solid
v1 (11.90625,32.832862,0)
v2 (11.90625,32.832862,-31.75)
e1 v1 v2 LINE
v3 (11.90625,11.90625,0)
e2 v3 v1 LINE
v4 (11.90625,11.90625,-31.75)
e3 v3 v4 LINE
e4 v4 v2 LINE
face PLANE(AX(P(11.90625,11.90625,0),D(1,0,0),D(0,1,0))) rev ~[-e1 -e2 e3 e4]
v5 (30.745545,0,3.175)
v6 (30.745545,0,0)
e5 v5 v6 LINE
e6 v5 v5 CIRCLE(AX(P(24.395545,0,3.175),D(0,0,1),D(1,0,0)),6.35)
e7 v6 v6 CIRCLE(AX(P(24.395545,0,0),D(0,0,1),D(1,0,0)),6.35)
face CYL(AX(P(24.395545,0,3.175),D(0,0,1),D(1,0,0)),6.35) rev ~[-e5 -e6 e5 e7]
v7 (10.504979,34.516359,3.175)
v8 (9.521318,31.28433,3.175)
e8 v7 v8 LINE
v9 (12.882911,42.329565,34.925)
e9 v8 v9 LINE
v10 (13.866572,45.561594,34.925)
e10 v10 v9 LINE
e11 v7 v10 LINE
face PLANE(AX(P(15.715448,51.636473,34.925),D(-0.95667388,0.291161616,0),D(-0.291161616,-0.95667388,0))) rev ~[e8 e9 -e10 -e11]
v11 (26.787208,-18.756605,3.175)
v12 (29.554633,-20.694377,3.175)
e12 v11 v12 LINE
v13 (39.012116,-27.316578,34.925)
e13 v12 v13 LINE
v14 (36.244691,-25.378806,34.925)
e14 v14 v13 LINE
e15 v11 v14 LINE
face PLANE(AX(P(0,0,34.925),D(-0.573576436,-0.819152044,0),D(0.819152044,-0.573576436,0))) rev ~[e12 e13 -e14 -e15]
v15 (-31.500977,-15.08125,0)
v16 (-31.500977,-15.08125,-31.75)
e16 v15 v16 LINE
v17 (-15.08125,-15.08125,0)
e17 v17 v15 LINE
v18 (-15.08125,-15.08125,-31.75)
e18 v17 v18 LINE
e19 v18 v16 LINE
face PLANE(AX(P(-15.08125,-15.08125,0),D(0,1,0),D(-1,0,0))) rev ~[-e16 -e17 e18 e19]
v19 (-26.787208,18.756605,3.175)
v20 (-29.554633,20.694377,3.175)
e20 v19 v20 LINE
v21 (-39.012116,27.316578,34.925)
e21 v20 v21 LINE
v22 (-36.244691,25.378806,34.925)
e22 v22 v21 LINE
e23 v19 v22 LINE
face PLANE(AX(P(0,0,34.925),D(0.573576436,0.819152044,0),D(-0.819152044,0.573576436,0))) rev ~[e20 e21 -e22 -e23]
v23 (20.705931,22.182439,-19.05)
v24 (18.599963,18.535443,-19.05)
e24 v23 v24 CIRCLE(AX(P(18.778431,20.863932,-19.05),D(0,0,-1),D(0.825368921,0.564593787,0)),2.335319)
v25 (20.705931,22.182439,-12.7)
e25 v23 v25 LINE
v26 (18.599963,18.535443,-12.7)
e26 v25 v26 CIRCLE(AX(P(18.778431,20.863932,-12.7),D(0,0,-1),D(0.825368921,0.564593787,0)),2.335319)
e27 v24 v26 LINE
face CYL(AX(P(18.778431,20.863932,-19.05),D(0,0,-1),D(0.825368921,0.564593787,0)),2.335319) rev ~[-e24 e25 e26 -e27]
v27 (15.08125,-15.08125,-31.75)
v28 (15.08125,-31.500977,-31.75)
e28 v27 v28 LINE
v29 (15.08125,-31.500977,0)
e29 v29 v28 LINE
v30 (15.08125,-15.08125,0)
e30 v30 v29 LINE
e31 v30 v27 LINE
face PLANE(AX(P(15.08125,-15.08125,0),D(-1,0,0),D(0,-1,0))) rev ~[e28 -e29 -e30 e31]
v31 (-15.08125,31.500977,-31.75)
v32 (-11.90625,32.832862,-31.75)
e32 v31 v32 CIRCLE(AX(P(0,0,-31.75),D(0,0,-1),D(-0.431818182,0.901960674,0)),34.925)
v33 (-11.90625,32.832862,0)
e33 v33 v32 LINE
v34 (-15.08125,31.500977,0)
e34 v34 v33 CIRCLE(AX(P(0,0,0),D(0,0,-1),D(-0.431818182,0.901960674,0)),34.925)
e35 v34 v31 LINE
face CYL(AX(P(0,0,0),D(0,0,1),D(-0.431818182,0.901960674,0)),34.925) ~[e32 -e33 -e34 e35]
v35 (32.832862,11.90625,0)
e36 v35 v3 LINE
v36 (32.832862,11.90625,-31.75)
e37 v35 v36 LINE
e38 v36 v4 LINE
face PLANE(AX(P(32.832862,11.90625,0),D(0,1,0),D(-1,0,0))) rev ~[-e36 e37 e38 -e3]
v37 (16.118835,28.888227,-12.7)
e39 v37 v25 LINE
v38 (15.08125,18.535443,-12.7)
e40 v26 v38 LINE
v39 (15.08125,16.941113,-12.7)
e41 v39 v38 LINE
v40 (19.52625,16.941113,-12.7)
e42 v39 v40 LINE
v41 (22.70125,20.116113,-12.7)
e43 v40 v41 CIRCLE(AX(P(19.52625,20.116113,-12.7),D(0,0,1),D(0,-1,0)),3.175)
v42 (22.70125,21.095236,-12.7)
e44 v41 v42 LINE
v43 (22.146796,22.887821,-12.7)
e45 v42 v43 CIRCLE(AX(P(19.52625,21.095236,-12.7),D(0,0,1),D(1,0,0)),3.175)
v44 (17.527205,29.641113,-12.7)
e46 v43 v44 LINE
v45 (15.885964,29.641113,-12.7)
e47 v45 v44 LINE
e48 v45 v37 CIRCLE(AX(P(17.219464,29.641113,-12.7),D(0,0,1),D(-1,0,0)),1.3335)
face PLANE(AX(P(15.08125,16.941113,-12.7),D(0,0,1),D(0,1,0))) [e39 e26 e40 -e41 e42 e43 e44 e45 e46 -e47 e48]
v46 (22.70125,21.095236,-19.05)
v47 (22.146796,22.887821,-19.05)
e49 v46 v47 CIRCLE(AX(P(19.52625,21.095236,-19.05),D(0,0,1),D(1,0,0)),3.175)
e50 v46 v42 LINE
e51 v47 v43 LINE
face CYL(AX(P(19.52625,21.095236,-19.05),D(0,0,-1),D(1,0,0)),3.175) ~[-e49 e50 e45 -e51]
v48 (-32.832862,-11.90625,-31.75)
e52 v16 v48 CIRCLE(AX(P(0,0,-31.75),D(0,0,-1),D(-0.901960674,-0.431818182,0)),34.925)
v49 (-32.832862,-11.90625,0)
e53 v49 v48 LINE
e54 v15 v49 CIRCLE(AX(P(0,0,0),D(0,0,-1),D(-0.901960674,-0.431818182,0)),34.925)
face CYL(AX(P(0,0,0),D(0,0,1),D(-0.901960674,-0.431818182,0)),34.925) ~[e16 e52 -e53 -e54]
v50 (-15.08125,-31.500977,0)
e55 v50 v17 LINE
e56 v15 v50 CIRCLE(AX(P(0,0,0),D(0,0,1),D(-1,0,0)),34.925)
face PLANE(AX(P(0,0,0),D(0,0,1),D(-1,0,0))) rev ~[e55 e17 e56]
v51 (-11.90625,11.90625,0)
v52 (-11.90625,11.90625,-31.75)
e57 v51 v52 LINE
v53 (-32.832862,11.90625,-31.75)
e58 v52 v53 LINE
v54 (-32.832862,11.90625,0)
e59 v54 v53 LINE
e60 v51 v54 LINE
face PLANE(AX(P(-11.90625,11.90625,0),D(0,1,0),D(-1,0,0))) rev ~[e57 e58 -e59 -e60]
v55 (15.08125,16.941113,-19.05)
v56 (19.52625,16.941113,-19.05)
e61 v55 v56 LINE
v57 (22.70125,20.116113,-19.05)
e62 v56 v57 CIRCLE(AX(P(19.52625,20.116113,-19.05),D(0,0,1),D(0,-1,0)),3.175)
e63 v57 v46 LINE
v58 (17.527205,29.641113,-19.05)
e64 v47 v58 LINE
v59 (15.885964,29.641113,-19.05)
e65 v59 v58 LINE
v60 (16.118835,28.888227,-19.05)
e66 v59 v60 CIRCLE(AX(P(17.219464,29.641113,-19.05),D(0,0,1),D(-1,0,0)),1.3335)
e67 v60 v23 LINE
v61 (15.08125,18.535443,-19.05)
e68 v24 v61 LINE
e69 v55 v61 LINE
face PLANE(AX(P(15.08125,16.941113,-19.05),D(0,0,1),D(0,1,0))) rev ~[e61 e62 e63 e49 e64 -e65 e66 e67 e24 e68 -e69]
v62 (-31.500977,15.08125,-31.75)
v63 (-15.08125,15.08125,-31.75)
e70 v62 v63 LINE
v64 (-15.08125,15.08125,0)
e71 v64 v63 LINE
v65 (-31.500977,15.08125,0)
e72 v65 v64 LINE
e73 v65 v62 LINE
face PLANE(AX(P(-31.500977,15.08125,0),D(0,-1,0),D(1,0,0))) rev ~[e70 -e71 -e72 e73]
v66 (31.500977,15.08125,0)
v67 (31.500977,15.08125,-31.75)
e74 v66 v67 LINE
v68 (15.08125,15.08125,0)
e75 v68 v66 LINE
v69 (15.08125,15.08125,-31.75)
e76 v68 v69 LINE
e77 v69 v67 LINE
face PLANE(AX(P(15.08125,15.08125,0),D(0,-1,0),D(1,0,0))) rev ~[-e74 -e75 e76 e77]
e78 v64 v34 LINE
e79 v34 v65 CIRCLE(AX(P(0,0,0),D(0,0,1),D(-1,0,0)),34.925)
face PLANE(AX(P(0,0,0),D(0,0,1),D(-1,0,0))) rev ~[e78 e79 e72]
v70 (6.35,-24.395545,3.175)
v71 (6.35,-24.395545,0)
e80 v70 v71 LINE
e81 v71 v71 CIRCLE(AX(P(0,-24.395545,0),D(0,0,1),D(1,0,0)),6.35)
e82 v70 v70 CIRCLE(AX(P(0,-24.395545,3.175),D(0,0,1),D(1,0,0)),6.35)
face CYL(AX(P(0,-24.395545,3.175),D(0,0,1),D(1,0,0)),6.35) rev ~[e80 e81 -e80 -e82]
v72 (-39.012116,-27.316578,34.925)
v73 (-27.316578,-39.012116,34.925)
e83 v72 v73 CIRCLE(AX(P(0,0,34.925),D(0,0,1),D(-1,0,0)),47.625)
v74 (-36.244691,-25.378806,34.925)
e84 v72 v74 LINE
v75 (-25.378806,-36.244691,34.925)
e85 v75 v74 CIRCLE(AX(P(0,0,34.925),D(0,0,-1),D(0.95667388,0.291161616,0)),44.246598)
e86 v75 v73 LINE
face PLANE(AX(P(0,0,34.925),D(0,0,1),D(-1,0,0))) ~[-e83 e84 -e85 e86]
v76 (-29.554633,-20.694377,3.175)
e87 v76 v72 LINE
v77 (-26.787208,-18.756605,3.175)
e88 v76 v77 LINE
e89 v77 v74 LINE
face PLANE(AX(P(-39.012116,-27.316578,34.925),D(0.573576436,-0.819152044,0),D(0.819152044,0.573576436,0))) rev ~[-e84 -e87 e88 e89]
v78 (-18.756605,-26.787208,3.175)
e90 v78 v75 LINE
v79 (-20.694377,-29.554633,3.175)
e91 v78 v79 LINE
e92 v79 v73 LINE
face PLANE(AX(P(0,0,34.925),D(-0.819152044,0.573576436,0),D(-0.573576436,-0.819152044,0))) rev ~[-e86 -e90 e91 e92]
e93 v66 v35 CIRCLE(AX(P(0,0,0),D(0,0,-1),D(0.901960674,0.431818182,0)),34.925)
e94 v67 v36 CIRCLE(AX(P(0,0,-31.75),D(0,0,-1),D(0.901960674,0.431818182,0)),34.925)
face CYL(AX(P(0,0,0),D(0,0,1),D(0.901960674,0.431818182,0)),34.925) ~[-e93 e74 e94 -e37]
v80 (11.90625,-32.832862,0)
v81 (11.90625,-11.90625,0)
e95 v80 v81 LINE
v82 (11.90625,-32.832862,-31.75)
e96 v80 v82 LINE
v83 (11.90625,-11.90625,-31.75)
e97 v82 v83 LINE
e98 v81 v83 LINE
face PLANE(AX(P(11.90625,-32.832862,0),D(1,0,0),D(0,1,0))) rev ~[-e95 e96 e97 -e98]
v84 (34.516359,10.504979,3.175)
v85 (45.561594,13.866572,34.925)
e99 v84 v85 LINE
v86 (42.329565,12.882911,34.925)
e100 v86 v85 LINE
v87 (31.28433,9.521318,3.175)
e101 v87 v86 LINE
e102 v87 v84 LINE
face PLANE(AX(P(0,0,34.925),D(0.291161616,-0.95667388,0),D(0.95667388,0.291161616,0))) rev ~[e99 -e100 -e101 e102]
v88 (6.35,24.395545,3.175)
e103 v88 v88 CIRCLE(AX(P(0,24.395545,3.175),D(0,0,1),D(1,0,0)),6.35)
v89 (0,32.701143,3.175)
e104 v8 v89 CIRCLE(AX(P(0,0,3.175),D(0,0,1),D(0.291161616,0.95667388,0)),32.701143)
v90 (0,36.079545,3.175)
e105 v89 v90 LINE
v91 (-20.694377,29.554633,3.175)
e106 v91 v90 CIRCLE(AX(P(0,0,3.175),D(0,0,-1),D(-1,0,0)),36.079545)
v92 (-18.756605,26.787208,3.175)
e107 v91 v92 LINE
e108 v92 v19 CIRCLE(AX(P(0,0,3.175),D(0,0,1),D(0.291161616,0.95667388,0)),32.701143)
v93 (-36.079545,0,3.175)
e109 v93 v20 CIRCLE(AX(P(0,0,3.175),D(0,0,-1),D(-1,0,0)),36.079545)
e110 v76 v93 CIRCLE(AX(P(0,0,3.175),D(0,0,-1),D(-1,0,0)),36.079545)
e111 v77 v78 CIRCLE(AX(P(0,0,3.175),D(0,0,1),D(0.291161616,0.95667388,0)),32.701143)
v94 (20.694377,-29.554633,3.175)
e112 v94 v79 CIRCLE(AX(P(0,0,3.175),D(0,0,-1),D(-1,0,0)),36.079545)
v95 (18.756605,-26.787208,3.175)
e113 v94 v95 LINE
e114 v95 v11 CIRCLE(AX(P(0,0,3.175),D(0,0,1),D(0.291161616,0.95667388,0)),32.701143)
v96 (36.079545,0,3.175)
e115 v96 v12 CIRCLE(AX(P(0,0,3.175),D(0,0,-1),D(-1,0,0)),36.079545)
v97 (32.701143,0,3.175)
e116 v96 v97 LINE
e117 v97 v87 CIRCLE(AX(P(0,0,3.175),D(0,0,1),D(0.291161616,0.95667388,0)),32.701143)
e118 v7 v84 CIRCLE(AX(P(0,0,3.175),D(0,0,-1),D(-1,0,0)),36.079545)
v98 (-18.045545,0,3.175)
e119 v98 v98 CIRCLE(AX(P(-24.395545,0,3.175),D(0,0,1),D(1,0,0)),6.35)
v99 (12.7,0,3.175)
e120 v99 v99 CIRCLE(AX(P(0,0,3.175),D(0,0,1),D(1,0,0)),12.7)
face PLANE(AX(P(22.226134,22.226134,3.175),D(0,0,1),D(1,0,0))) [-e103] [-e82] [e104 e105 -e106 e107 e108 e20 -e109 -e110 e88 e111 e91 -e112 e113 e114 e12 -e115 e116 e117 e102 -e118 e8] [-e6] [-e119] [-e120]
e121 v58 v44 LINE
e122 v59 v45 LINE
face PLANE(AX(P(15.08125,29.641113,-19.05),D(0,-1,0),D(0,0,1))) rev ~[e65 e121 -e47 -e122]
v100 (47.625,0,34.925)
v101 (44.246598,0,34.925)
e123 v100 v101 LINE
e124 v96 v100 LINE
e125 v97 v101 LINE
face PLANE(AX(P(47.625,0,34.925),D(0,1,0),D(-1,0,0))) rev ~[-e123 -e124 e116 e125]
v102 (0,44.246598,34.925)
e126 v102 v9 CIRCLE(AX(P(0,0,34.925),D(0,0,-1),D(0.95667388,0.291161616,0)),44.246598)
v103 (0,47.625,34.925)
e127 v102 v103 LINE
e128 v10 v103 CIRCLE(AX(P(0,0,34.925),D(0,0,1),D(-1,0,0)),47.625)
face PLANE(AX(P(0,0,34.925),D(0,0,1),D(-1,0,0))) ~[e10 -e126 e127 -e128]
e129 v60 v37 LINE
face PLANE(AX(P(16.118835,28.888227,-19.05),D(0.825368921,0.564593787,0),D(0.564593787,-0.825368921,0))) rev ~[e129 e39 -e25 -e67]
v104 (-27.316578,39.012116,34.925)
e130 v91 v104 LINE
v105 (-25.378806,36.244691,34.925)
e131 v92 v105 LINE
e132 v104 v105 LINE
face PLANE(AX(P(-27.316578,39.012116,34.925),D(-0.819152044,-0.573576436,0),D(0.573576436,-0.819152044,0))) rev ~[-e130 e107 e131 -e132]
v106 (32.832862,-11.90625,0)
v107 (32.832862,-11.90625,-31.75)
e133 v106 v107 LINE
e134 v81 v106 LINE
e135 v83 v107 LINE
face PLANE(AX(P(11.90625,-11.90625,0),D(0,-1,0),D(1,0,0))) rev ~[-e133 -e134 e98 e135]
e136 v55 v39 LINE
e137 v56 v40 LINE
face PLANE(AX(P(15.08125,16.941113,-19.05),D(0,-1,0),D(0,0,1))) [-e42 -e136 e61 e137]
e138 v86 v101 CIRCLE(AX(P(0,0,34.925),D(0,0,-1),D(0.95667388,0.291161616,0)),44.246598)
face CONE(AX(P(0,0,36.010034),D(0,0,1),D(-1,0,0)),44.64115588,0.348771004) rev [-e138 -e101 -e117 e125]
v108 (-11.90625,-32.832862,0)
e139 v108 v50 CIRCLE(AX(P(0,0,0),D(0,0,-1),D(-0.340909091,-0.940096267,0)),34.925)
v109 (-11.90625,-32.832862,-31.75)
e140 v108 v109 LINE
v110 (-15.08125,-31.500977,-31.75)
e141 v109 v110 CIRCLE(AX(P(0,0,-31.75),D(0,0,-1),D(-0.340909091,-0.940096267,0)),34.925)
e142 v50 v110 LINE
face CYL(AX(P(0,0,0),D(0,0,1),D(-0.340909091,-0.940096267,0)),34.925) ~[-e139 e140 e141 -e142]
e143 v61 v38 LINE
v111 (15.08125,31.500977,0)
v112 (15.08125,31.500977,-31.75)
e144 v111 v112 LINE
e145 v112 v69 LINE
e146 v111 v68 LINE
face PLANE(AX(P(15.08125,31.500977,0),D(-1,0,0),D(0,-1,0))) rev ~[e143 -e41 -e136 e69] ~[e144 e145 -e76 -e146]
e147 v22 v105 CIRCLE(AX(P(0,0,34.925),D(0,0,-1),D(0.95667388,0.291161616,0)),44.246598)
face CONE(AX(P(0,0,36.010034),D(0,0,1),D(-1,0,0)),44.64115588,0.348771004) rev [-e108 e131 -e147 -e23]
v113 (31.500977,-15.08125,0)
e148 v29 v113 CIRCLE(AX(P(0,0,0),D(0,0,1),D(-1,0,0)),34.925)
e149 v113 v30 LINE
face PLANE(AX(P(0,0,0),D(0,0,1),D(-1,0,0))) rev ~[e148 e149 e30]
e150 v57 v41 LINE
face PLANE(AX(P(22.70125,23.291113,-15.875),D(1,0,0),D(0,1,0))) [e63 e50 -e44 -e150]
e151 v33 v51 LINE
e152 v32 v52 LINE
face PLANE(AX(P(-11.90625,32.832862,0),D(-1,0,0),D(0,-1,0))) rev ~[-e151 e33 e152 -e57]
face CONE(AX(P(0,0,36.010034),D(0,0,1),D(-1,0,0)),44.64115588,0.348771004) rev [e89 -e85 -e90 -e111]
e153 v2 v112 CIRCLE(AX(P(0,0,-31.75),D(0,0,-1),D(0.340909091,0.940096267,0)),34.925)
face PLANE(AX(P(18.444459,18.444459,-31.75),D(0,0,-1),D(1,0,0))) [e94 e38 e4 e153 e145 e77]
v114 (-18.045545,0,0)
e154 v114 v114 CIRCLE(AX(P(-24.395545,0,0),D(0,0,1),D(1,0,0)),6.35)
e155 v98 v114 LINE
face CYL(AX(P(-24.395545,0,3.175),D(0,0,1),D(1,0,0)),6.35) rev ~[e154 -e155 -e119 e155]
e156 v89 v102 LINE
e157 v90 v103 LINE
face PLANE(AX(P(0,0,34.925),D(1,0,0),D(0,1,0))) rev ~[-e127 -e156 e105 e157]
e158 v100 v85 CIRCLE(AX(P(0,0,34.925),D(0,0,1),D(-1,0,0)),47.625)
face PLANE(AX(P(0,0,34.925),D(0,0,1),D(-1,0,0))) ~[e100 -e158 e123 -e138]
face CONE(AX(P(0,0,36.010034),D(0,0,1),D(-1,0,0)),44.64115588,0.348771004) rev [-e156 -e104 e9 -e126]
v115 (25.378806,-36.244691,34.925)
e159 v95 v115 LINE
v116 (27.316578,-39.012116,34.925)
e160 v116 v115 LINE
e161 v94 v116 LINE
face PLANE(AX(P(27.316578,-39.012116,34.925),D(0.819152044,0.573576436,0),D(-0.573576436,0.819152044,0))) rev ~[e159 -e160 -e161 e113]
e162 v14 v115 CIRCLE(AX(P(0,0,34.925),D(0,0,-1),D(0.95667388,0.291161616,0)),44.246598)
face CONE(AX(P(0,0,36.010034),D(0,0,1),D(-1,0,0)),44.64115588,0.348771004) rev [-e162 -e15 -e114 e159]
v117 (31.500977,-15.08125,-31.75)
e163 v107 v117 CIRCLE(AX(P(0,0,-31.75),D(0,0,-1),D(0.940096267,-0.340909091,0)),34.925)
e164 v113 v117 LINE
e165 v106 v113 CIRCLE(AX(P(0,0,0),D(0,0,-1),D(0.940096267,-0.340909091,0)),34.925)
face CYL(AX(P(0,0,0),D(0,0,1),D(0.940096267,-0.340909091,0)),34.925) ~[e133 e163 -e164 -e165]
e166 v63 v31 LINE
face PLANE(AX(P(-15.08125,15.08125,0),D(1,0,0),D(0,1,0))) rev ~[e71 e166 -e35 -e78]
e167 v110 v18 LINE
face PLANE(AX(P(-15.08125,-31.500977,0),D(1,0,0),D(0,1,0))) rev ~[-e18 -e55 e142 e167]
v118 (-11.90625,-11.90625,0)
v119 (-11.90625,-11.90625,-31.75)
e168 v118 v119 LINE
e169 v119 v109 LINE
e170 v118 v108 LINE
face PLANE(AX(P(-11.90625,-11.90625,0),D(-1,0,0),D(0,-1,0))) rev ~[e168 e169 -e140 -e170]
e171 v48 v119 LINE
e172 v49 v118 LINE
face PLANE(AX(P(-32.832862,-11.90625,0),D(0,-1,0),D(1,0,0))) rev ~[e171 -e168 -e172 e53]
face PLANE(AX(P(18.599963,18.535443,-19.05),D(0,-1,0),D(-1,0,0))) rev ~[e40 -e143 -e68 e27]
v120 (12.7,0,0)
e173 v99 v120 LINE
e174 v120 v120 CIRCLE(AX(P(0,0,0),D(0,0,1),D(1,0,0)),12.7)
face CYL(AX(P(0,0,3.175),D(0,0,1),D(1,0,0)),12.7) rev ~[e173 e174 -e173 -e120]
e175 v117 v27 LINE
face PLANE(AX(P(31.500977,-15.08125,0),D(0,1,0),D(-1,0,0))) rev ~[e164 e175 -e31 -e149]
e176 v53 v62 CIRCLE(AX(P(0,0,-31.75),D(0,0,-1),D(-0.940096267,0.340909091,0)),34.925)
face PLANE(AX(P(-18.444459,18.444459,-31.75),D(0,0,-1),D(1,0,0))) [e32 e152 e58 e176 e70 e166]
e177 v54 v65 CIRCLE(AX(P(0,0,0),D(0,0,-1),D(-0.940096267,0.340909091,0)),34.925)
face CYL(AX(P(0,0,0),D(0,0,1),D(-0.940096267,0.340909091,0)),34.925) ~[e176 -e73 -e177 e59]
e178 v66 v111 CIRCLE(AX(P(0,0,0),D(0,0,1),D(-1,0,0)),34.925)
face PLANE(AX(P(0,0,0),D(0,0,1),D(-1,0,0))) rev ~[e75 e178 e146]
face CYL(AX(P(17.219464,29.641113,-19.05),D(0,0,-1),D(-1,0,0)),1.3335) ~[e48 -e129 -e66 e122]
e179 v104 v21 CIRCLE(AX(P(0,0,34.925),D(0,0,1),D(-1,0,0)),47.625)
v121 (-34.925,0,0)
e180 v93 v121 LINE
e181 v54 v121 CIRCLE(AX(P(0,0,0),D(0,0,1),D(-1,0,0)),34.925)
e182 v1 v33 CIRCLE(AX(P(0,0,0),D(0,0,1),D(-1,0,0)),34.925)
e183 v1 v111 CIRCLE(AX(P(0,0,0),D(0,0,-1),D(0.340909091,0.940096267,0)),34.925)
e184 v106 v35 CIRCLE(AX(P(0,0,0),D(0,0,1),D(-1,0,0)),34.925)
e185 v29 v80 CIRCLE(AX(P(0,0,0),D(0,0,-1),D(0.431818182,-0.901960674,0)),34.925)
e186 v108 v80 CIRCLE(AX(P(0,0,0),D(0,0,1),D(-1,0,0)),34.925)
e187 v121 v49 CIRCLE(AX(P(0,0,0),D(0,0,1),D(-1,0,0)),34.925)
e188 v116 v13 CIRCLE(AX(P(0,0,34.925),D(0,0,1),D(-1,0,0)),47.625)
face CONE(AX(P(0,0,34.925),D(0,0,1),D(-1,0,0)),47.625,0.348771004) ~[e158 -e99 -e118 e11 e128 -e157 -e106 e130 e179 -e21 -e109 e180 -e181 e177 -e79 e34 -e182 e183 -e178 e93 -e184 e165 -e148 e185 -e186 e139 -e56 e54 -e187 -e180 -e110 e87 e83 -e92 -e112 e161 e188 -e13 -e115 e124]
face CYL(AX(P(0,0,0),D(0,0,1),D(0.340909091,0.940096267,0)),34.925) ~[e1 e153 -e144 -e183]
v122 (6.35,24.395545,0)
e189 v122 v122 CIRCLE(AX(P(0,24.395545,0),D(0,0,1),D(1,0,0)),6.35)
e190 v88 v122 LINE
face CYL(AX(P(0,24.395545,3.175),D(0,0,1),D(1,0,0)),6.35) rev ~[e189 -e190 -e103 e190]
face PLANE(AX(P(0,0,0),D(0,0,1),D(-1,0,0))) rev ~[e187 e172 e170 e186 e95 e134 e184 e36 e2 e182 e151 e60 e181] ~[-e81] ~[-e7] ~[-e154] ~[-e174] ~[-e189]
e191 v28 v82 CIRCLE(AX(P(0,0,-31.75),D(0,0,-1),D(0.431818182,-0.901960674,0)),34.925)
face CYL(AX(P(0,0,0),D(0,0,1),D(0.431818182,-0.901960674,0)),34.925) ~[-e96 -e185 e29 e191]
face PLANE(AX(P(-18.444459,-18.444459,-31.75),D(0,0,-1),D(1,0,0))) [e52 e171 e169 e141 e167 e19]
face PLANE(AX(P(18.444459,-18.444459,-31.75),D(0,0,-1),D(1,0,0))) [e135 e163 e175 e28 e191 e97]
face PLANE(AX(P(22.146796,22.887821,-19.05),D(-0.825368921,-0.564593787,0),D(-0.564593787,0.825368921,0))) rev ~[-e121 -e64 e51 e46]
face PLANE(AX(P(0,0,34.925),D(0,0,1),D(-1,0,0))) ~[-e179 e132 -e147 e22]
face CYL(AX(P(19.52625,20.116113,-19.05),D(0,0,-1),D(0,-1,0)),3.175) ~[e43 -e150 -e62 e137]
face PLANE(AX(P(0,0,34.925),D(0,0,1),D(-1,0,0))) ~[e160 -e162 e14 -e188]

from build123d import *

# Parameters (mm, degrees)
F3_T      = -3.175
F5_DEPTH  = 31.75
F7_DEPTH  = 31.75
F9_DEPTH  = 31.75
F10_R     = 12.7
F11_DEPTH = 25.4
F12_W     = 12.7
F12_H     = 6.35
F13_DEPTH = 7.62
F15_DEPTH = 6.35
F16_R     = 6.35
F17_DEPTH = 25.4


with BuildPart() as f2:
    # F0 (on Front) → F2 (revolve)
    with BuildSketch(Plane.XZ):
        Polygon((-34.925, 0), (0, 0), (0, 34.925), (-47.625, 34.925), align=None)
    revolve(axis=Axis((0, 0, 24.3954025209), (0, 0, 1)))

    # F3
    f3_openings = [f2.faces().sort_by_distance(p)[0] for p in [
        (0, 0, 34.925),
    ]]
    offset(amount=F3_T, openings=f3_openings)

    # F4 (on face) → F5 (join)
    with BuildSketch(Plane(origin=(0, 0, 0), x_dir=(1, 0, 0), z_dir=(0, 0, -1))):
        with BuildLine():
            Line((-32.8328621344, 11.90625), (-11.90625, 11.90625))
            Line((-11.90625, 11.90625), (-11.90625, 32.8328621344))
            ThreePointArc((-11.90625, 32.8328621344), (-13.5101727919, 32.2060686227), (-15.08125, 31.5009765474))
            Line((-15.08125, 31.5009765474), (-15.08125, 15.08125))
            Line((-15.08125, 15.08125), (-31.5009765474, 15.08125))
            ThreePointArc((-31.5009765474, 15.08125), (-32.2060686227, 13.5101727919), (-32.8328621344, 11.90625))
        make_face()
        with BuildLine():
            Line((-11.90625, -32.8328621344), (-11.90625, -11.90625))
            Line((-11.90625, -11.90625), (-32.8328621344, -11.90625))
            ThreePointArc((-32.8328621344, -11.90625), (-32.2060686227, -13.5101727919), (-31.5009765474, -15.08125))
            Line((-31.5009765474, -15.08125), (-15.08125, -15.08125))
            Line((-15.08125, -15.08125), (-15.08125, -31.5009765474))
            ThreePointArc((-15.08125, -31.5009765474), (-13.5101727919, -32.2060686227), (-11.90625, -32.8328621344))
        make_face()
        with BuildLine():
            Line((32.8328621344, -11.90625), (11.90625, -11.90625))
            Line((11.90625, -11.90625), (11.90625, -32.8328621344))
            ThreePointArc((11.90625, -32.8328621344), (13.5101727919, -32.2060686227), (15.08125, -31.5009765474))
            Line((15.08125, -31.5009765474), (15.08125, -15.08125))
            Line((15.08125, -15.08125), (31.5009765474, -15.08125))
            ThreePointArc((31.5009765474, -15.08125), (32.2060686227, -13.5101727919), (32.8328621344, -11.90625))
        make_face()
        with BuildLine():
            Line((11.90625, 32.8328621344), (11.90625, 11.90625))
            Line((11.90625, 11.90625), (32.8328621344, 11.90625))
            ThreePointArc((32.8328621344, 11.90625), (32.2060686227, 13.5101727919), (31.5009765474, 15.08125))
            Line((31.5009765474, 15.08125), (15.08125, 15.08125))
            Line((15.08125, 15.08125), (15.08125, 31.5009765474))
            ThreePointArc((15.08125, 31.5009765474), (13.5101727919, 32.2060686227), (11.90625, 32.8328621344))
        make_face()
    extrude(amount=F5_DEPTH)

    # F6 (on face) → F7 (cut, through all)
    with BuildSketch(Plane.XY.offset(34.925)):
        Polygon((15.7154482119, 51.6364726961), (0, 0), (51.6364726961, 15.7154482119), (33.675960454, 33.675960454), align=None)
    extrude(amount=-F7_DEPTH, mode=Mode.SUBTRACT)

    # F8 (on face) → F9 (cut, through all)
    with BuildSketch(Plane.XY.offset(34.925)):
        with BuildLine():
            Line((-27.3165777812, 39.0121161093), (0, 0))
            Line((0, 0), (0, 47.625))
            ThreePointArc((0, 47.625), (-14.3211137014, 45.4207697794), (-27.3165777812, 39.0121161093))
        make_face()
        with BuildLine():
            Line((-39.0121161093, -27.3165777812), (0, 0))
            Line((0, 0), (-39.0121161093, 27.3165777812))
            ThreePointArc((-39.0121161093, 27.3165777812), (-47.625, 0), (-39.0121161093, -27.3165777812))
        make_face()
        with BuildLine():
            Line((27.3165777812, -39.0121161093), (0, 0))
            Line((0, 0), (-27.3165777812, -39.0121161093))
            ThreePointArc((-27.3165777812, -39.0121161093), (0, -47.625), (27.3165777812, -39.0121161093))
        make_face()
        with BuildLine():
            Line((47.625, 0), (0, 0))
            Line((0, 0), (39.0121161093, -27.3165777812))
            ThreePointArc((39.0121161093, -27.3165777812), (45.4207697794, -14.3211137014), (47.625, 0))
        make_face()
    extrude(amount=-F9_DEPTH, mode=Mode.SUBTRACT)

    # F10 (on face) → F11 (cut)
    with BuildSketch(Plane.XY.offset(3.175)):
        Circle(F10_R)
    extrude(amount=-F11_DEPTH, mode=Mode.SUBTRACT)

    # F12 (on face) → F13 (join)
    with BuildSketch(Plane.YZ.offset(15.08125)):
        with Locations((23.2911132737, -15.875)):
            Rectangle(F12_W, F12_H)
    extrude(amount=F13_DEPTH)

    # F14 (on face) → F15 (cut, through all)
    with BuildSketch(Plane(origin=(0, 0, -19.05), x_dir=(1, 0, 0), z_dir=(0, 0, -1))):
        with BuildLine():
            Line((16.1188345795, -28.8882274593), (20.7059307299, -22.1824388165))
            ThreePointArc((20.7059307299, -22.1824388165), (20.8007868478, -19.6961173416), (18.5999628156, -18.5354426503))
            Line((18.5999628156, -18.5354426503), (15.08125, -18.5354426503))
            Line((15.08125, -18.5354426503), (15.08125, -29.6411132737))
            Line((15.08125, -29.6411132737), (15.885964036, -29.6411132737))
            ThreePointArc((15.885964036, -29.6411132737), (15.9455112052, -29.2470746527), (16.1188345795, -28.8882274593))
        make_face()
        with BuildLine():
            ThreePointArc((19.52625, -16.9411132737), (21.7713140303, -17.8710492434), (22.70125, -20.1161132737))
            Line((22.70125, -20.1161132737), (22.70125, -16.9411132737))
            Line((22.70125, -16.9411132737), (19.52625, -16.9411132737))
        make_face()
        with BuildLine():
            Line((22.1467963251, -22.8878208585), (17.527205209, -29.6411132737))
            Line((17.527205209, -29.6411132737), (22.70125, -29.6411132737))
            Line((22.70125, -29.6411132737), (22.70125, -21.0952355863))
            ThreePointArc((22.70125, -21.0952355863), (22.5594710257, -22.0334227792), (22.1467963251, -22.8878208585))
        make_face()
    extrude(amount=-F15_DEPTH, mode=Mode.SUBTRACT)

    # F16 (on face) → F17 (cut)
    with BuildSketch(Plane.XY.offset(3.175)):
        with Locations((-24.3955454545, 0)):
            Circle(F16_R)
        with Locations((0, -24.3955454545)):
            Circle(F16_R)
        with Locations((24.3955454545, 0)):
            Circle(F16_R)
        with Locations((0, 24.3955454545)):
            Circle(F16_R)
    extrude(amount=-F17_DEPTH, mode=Mode.SUBTRACT)


solid = f2.part
